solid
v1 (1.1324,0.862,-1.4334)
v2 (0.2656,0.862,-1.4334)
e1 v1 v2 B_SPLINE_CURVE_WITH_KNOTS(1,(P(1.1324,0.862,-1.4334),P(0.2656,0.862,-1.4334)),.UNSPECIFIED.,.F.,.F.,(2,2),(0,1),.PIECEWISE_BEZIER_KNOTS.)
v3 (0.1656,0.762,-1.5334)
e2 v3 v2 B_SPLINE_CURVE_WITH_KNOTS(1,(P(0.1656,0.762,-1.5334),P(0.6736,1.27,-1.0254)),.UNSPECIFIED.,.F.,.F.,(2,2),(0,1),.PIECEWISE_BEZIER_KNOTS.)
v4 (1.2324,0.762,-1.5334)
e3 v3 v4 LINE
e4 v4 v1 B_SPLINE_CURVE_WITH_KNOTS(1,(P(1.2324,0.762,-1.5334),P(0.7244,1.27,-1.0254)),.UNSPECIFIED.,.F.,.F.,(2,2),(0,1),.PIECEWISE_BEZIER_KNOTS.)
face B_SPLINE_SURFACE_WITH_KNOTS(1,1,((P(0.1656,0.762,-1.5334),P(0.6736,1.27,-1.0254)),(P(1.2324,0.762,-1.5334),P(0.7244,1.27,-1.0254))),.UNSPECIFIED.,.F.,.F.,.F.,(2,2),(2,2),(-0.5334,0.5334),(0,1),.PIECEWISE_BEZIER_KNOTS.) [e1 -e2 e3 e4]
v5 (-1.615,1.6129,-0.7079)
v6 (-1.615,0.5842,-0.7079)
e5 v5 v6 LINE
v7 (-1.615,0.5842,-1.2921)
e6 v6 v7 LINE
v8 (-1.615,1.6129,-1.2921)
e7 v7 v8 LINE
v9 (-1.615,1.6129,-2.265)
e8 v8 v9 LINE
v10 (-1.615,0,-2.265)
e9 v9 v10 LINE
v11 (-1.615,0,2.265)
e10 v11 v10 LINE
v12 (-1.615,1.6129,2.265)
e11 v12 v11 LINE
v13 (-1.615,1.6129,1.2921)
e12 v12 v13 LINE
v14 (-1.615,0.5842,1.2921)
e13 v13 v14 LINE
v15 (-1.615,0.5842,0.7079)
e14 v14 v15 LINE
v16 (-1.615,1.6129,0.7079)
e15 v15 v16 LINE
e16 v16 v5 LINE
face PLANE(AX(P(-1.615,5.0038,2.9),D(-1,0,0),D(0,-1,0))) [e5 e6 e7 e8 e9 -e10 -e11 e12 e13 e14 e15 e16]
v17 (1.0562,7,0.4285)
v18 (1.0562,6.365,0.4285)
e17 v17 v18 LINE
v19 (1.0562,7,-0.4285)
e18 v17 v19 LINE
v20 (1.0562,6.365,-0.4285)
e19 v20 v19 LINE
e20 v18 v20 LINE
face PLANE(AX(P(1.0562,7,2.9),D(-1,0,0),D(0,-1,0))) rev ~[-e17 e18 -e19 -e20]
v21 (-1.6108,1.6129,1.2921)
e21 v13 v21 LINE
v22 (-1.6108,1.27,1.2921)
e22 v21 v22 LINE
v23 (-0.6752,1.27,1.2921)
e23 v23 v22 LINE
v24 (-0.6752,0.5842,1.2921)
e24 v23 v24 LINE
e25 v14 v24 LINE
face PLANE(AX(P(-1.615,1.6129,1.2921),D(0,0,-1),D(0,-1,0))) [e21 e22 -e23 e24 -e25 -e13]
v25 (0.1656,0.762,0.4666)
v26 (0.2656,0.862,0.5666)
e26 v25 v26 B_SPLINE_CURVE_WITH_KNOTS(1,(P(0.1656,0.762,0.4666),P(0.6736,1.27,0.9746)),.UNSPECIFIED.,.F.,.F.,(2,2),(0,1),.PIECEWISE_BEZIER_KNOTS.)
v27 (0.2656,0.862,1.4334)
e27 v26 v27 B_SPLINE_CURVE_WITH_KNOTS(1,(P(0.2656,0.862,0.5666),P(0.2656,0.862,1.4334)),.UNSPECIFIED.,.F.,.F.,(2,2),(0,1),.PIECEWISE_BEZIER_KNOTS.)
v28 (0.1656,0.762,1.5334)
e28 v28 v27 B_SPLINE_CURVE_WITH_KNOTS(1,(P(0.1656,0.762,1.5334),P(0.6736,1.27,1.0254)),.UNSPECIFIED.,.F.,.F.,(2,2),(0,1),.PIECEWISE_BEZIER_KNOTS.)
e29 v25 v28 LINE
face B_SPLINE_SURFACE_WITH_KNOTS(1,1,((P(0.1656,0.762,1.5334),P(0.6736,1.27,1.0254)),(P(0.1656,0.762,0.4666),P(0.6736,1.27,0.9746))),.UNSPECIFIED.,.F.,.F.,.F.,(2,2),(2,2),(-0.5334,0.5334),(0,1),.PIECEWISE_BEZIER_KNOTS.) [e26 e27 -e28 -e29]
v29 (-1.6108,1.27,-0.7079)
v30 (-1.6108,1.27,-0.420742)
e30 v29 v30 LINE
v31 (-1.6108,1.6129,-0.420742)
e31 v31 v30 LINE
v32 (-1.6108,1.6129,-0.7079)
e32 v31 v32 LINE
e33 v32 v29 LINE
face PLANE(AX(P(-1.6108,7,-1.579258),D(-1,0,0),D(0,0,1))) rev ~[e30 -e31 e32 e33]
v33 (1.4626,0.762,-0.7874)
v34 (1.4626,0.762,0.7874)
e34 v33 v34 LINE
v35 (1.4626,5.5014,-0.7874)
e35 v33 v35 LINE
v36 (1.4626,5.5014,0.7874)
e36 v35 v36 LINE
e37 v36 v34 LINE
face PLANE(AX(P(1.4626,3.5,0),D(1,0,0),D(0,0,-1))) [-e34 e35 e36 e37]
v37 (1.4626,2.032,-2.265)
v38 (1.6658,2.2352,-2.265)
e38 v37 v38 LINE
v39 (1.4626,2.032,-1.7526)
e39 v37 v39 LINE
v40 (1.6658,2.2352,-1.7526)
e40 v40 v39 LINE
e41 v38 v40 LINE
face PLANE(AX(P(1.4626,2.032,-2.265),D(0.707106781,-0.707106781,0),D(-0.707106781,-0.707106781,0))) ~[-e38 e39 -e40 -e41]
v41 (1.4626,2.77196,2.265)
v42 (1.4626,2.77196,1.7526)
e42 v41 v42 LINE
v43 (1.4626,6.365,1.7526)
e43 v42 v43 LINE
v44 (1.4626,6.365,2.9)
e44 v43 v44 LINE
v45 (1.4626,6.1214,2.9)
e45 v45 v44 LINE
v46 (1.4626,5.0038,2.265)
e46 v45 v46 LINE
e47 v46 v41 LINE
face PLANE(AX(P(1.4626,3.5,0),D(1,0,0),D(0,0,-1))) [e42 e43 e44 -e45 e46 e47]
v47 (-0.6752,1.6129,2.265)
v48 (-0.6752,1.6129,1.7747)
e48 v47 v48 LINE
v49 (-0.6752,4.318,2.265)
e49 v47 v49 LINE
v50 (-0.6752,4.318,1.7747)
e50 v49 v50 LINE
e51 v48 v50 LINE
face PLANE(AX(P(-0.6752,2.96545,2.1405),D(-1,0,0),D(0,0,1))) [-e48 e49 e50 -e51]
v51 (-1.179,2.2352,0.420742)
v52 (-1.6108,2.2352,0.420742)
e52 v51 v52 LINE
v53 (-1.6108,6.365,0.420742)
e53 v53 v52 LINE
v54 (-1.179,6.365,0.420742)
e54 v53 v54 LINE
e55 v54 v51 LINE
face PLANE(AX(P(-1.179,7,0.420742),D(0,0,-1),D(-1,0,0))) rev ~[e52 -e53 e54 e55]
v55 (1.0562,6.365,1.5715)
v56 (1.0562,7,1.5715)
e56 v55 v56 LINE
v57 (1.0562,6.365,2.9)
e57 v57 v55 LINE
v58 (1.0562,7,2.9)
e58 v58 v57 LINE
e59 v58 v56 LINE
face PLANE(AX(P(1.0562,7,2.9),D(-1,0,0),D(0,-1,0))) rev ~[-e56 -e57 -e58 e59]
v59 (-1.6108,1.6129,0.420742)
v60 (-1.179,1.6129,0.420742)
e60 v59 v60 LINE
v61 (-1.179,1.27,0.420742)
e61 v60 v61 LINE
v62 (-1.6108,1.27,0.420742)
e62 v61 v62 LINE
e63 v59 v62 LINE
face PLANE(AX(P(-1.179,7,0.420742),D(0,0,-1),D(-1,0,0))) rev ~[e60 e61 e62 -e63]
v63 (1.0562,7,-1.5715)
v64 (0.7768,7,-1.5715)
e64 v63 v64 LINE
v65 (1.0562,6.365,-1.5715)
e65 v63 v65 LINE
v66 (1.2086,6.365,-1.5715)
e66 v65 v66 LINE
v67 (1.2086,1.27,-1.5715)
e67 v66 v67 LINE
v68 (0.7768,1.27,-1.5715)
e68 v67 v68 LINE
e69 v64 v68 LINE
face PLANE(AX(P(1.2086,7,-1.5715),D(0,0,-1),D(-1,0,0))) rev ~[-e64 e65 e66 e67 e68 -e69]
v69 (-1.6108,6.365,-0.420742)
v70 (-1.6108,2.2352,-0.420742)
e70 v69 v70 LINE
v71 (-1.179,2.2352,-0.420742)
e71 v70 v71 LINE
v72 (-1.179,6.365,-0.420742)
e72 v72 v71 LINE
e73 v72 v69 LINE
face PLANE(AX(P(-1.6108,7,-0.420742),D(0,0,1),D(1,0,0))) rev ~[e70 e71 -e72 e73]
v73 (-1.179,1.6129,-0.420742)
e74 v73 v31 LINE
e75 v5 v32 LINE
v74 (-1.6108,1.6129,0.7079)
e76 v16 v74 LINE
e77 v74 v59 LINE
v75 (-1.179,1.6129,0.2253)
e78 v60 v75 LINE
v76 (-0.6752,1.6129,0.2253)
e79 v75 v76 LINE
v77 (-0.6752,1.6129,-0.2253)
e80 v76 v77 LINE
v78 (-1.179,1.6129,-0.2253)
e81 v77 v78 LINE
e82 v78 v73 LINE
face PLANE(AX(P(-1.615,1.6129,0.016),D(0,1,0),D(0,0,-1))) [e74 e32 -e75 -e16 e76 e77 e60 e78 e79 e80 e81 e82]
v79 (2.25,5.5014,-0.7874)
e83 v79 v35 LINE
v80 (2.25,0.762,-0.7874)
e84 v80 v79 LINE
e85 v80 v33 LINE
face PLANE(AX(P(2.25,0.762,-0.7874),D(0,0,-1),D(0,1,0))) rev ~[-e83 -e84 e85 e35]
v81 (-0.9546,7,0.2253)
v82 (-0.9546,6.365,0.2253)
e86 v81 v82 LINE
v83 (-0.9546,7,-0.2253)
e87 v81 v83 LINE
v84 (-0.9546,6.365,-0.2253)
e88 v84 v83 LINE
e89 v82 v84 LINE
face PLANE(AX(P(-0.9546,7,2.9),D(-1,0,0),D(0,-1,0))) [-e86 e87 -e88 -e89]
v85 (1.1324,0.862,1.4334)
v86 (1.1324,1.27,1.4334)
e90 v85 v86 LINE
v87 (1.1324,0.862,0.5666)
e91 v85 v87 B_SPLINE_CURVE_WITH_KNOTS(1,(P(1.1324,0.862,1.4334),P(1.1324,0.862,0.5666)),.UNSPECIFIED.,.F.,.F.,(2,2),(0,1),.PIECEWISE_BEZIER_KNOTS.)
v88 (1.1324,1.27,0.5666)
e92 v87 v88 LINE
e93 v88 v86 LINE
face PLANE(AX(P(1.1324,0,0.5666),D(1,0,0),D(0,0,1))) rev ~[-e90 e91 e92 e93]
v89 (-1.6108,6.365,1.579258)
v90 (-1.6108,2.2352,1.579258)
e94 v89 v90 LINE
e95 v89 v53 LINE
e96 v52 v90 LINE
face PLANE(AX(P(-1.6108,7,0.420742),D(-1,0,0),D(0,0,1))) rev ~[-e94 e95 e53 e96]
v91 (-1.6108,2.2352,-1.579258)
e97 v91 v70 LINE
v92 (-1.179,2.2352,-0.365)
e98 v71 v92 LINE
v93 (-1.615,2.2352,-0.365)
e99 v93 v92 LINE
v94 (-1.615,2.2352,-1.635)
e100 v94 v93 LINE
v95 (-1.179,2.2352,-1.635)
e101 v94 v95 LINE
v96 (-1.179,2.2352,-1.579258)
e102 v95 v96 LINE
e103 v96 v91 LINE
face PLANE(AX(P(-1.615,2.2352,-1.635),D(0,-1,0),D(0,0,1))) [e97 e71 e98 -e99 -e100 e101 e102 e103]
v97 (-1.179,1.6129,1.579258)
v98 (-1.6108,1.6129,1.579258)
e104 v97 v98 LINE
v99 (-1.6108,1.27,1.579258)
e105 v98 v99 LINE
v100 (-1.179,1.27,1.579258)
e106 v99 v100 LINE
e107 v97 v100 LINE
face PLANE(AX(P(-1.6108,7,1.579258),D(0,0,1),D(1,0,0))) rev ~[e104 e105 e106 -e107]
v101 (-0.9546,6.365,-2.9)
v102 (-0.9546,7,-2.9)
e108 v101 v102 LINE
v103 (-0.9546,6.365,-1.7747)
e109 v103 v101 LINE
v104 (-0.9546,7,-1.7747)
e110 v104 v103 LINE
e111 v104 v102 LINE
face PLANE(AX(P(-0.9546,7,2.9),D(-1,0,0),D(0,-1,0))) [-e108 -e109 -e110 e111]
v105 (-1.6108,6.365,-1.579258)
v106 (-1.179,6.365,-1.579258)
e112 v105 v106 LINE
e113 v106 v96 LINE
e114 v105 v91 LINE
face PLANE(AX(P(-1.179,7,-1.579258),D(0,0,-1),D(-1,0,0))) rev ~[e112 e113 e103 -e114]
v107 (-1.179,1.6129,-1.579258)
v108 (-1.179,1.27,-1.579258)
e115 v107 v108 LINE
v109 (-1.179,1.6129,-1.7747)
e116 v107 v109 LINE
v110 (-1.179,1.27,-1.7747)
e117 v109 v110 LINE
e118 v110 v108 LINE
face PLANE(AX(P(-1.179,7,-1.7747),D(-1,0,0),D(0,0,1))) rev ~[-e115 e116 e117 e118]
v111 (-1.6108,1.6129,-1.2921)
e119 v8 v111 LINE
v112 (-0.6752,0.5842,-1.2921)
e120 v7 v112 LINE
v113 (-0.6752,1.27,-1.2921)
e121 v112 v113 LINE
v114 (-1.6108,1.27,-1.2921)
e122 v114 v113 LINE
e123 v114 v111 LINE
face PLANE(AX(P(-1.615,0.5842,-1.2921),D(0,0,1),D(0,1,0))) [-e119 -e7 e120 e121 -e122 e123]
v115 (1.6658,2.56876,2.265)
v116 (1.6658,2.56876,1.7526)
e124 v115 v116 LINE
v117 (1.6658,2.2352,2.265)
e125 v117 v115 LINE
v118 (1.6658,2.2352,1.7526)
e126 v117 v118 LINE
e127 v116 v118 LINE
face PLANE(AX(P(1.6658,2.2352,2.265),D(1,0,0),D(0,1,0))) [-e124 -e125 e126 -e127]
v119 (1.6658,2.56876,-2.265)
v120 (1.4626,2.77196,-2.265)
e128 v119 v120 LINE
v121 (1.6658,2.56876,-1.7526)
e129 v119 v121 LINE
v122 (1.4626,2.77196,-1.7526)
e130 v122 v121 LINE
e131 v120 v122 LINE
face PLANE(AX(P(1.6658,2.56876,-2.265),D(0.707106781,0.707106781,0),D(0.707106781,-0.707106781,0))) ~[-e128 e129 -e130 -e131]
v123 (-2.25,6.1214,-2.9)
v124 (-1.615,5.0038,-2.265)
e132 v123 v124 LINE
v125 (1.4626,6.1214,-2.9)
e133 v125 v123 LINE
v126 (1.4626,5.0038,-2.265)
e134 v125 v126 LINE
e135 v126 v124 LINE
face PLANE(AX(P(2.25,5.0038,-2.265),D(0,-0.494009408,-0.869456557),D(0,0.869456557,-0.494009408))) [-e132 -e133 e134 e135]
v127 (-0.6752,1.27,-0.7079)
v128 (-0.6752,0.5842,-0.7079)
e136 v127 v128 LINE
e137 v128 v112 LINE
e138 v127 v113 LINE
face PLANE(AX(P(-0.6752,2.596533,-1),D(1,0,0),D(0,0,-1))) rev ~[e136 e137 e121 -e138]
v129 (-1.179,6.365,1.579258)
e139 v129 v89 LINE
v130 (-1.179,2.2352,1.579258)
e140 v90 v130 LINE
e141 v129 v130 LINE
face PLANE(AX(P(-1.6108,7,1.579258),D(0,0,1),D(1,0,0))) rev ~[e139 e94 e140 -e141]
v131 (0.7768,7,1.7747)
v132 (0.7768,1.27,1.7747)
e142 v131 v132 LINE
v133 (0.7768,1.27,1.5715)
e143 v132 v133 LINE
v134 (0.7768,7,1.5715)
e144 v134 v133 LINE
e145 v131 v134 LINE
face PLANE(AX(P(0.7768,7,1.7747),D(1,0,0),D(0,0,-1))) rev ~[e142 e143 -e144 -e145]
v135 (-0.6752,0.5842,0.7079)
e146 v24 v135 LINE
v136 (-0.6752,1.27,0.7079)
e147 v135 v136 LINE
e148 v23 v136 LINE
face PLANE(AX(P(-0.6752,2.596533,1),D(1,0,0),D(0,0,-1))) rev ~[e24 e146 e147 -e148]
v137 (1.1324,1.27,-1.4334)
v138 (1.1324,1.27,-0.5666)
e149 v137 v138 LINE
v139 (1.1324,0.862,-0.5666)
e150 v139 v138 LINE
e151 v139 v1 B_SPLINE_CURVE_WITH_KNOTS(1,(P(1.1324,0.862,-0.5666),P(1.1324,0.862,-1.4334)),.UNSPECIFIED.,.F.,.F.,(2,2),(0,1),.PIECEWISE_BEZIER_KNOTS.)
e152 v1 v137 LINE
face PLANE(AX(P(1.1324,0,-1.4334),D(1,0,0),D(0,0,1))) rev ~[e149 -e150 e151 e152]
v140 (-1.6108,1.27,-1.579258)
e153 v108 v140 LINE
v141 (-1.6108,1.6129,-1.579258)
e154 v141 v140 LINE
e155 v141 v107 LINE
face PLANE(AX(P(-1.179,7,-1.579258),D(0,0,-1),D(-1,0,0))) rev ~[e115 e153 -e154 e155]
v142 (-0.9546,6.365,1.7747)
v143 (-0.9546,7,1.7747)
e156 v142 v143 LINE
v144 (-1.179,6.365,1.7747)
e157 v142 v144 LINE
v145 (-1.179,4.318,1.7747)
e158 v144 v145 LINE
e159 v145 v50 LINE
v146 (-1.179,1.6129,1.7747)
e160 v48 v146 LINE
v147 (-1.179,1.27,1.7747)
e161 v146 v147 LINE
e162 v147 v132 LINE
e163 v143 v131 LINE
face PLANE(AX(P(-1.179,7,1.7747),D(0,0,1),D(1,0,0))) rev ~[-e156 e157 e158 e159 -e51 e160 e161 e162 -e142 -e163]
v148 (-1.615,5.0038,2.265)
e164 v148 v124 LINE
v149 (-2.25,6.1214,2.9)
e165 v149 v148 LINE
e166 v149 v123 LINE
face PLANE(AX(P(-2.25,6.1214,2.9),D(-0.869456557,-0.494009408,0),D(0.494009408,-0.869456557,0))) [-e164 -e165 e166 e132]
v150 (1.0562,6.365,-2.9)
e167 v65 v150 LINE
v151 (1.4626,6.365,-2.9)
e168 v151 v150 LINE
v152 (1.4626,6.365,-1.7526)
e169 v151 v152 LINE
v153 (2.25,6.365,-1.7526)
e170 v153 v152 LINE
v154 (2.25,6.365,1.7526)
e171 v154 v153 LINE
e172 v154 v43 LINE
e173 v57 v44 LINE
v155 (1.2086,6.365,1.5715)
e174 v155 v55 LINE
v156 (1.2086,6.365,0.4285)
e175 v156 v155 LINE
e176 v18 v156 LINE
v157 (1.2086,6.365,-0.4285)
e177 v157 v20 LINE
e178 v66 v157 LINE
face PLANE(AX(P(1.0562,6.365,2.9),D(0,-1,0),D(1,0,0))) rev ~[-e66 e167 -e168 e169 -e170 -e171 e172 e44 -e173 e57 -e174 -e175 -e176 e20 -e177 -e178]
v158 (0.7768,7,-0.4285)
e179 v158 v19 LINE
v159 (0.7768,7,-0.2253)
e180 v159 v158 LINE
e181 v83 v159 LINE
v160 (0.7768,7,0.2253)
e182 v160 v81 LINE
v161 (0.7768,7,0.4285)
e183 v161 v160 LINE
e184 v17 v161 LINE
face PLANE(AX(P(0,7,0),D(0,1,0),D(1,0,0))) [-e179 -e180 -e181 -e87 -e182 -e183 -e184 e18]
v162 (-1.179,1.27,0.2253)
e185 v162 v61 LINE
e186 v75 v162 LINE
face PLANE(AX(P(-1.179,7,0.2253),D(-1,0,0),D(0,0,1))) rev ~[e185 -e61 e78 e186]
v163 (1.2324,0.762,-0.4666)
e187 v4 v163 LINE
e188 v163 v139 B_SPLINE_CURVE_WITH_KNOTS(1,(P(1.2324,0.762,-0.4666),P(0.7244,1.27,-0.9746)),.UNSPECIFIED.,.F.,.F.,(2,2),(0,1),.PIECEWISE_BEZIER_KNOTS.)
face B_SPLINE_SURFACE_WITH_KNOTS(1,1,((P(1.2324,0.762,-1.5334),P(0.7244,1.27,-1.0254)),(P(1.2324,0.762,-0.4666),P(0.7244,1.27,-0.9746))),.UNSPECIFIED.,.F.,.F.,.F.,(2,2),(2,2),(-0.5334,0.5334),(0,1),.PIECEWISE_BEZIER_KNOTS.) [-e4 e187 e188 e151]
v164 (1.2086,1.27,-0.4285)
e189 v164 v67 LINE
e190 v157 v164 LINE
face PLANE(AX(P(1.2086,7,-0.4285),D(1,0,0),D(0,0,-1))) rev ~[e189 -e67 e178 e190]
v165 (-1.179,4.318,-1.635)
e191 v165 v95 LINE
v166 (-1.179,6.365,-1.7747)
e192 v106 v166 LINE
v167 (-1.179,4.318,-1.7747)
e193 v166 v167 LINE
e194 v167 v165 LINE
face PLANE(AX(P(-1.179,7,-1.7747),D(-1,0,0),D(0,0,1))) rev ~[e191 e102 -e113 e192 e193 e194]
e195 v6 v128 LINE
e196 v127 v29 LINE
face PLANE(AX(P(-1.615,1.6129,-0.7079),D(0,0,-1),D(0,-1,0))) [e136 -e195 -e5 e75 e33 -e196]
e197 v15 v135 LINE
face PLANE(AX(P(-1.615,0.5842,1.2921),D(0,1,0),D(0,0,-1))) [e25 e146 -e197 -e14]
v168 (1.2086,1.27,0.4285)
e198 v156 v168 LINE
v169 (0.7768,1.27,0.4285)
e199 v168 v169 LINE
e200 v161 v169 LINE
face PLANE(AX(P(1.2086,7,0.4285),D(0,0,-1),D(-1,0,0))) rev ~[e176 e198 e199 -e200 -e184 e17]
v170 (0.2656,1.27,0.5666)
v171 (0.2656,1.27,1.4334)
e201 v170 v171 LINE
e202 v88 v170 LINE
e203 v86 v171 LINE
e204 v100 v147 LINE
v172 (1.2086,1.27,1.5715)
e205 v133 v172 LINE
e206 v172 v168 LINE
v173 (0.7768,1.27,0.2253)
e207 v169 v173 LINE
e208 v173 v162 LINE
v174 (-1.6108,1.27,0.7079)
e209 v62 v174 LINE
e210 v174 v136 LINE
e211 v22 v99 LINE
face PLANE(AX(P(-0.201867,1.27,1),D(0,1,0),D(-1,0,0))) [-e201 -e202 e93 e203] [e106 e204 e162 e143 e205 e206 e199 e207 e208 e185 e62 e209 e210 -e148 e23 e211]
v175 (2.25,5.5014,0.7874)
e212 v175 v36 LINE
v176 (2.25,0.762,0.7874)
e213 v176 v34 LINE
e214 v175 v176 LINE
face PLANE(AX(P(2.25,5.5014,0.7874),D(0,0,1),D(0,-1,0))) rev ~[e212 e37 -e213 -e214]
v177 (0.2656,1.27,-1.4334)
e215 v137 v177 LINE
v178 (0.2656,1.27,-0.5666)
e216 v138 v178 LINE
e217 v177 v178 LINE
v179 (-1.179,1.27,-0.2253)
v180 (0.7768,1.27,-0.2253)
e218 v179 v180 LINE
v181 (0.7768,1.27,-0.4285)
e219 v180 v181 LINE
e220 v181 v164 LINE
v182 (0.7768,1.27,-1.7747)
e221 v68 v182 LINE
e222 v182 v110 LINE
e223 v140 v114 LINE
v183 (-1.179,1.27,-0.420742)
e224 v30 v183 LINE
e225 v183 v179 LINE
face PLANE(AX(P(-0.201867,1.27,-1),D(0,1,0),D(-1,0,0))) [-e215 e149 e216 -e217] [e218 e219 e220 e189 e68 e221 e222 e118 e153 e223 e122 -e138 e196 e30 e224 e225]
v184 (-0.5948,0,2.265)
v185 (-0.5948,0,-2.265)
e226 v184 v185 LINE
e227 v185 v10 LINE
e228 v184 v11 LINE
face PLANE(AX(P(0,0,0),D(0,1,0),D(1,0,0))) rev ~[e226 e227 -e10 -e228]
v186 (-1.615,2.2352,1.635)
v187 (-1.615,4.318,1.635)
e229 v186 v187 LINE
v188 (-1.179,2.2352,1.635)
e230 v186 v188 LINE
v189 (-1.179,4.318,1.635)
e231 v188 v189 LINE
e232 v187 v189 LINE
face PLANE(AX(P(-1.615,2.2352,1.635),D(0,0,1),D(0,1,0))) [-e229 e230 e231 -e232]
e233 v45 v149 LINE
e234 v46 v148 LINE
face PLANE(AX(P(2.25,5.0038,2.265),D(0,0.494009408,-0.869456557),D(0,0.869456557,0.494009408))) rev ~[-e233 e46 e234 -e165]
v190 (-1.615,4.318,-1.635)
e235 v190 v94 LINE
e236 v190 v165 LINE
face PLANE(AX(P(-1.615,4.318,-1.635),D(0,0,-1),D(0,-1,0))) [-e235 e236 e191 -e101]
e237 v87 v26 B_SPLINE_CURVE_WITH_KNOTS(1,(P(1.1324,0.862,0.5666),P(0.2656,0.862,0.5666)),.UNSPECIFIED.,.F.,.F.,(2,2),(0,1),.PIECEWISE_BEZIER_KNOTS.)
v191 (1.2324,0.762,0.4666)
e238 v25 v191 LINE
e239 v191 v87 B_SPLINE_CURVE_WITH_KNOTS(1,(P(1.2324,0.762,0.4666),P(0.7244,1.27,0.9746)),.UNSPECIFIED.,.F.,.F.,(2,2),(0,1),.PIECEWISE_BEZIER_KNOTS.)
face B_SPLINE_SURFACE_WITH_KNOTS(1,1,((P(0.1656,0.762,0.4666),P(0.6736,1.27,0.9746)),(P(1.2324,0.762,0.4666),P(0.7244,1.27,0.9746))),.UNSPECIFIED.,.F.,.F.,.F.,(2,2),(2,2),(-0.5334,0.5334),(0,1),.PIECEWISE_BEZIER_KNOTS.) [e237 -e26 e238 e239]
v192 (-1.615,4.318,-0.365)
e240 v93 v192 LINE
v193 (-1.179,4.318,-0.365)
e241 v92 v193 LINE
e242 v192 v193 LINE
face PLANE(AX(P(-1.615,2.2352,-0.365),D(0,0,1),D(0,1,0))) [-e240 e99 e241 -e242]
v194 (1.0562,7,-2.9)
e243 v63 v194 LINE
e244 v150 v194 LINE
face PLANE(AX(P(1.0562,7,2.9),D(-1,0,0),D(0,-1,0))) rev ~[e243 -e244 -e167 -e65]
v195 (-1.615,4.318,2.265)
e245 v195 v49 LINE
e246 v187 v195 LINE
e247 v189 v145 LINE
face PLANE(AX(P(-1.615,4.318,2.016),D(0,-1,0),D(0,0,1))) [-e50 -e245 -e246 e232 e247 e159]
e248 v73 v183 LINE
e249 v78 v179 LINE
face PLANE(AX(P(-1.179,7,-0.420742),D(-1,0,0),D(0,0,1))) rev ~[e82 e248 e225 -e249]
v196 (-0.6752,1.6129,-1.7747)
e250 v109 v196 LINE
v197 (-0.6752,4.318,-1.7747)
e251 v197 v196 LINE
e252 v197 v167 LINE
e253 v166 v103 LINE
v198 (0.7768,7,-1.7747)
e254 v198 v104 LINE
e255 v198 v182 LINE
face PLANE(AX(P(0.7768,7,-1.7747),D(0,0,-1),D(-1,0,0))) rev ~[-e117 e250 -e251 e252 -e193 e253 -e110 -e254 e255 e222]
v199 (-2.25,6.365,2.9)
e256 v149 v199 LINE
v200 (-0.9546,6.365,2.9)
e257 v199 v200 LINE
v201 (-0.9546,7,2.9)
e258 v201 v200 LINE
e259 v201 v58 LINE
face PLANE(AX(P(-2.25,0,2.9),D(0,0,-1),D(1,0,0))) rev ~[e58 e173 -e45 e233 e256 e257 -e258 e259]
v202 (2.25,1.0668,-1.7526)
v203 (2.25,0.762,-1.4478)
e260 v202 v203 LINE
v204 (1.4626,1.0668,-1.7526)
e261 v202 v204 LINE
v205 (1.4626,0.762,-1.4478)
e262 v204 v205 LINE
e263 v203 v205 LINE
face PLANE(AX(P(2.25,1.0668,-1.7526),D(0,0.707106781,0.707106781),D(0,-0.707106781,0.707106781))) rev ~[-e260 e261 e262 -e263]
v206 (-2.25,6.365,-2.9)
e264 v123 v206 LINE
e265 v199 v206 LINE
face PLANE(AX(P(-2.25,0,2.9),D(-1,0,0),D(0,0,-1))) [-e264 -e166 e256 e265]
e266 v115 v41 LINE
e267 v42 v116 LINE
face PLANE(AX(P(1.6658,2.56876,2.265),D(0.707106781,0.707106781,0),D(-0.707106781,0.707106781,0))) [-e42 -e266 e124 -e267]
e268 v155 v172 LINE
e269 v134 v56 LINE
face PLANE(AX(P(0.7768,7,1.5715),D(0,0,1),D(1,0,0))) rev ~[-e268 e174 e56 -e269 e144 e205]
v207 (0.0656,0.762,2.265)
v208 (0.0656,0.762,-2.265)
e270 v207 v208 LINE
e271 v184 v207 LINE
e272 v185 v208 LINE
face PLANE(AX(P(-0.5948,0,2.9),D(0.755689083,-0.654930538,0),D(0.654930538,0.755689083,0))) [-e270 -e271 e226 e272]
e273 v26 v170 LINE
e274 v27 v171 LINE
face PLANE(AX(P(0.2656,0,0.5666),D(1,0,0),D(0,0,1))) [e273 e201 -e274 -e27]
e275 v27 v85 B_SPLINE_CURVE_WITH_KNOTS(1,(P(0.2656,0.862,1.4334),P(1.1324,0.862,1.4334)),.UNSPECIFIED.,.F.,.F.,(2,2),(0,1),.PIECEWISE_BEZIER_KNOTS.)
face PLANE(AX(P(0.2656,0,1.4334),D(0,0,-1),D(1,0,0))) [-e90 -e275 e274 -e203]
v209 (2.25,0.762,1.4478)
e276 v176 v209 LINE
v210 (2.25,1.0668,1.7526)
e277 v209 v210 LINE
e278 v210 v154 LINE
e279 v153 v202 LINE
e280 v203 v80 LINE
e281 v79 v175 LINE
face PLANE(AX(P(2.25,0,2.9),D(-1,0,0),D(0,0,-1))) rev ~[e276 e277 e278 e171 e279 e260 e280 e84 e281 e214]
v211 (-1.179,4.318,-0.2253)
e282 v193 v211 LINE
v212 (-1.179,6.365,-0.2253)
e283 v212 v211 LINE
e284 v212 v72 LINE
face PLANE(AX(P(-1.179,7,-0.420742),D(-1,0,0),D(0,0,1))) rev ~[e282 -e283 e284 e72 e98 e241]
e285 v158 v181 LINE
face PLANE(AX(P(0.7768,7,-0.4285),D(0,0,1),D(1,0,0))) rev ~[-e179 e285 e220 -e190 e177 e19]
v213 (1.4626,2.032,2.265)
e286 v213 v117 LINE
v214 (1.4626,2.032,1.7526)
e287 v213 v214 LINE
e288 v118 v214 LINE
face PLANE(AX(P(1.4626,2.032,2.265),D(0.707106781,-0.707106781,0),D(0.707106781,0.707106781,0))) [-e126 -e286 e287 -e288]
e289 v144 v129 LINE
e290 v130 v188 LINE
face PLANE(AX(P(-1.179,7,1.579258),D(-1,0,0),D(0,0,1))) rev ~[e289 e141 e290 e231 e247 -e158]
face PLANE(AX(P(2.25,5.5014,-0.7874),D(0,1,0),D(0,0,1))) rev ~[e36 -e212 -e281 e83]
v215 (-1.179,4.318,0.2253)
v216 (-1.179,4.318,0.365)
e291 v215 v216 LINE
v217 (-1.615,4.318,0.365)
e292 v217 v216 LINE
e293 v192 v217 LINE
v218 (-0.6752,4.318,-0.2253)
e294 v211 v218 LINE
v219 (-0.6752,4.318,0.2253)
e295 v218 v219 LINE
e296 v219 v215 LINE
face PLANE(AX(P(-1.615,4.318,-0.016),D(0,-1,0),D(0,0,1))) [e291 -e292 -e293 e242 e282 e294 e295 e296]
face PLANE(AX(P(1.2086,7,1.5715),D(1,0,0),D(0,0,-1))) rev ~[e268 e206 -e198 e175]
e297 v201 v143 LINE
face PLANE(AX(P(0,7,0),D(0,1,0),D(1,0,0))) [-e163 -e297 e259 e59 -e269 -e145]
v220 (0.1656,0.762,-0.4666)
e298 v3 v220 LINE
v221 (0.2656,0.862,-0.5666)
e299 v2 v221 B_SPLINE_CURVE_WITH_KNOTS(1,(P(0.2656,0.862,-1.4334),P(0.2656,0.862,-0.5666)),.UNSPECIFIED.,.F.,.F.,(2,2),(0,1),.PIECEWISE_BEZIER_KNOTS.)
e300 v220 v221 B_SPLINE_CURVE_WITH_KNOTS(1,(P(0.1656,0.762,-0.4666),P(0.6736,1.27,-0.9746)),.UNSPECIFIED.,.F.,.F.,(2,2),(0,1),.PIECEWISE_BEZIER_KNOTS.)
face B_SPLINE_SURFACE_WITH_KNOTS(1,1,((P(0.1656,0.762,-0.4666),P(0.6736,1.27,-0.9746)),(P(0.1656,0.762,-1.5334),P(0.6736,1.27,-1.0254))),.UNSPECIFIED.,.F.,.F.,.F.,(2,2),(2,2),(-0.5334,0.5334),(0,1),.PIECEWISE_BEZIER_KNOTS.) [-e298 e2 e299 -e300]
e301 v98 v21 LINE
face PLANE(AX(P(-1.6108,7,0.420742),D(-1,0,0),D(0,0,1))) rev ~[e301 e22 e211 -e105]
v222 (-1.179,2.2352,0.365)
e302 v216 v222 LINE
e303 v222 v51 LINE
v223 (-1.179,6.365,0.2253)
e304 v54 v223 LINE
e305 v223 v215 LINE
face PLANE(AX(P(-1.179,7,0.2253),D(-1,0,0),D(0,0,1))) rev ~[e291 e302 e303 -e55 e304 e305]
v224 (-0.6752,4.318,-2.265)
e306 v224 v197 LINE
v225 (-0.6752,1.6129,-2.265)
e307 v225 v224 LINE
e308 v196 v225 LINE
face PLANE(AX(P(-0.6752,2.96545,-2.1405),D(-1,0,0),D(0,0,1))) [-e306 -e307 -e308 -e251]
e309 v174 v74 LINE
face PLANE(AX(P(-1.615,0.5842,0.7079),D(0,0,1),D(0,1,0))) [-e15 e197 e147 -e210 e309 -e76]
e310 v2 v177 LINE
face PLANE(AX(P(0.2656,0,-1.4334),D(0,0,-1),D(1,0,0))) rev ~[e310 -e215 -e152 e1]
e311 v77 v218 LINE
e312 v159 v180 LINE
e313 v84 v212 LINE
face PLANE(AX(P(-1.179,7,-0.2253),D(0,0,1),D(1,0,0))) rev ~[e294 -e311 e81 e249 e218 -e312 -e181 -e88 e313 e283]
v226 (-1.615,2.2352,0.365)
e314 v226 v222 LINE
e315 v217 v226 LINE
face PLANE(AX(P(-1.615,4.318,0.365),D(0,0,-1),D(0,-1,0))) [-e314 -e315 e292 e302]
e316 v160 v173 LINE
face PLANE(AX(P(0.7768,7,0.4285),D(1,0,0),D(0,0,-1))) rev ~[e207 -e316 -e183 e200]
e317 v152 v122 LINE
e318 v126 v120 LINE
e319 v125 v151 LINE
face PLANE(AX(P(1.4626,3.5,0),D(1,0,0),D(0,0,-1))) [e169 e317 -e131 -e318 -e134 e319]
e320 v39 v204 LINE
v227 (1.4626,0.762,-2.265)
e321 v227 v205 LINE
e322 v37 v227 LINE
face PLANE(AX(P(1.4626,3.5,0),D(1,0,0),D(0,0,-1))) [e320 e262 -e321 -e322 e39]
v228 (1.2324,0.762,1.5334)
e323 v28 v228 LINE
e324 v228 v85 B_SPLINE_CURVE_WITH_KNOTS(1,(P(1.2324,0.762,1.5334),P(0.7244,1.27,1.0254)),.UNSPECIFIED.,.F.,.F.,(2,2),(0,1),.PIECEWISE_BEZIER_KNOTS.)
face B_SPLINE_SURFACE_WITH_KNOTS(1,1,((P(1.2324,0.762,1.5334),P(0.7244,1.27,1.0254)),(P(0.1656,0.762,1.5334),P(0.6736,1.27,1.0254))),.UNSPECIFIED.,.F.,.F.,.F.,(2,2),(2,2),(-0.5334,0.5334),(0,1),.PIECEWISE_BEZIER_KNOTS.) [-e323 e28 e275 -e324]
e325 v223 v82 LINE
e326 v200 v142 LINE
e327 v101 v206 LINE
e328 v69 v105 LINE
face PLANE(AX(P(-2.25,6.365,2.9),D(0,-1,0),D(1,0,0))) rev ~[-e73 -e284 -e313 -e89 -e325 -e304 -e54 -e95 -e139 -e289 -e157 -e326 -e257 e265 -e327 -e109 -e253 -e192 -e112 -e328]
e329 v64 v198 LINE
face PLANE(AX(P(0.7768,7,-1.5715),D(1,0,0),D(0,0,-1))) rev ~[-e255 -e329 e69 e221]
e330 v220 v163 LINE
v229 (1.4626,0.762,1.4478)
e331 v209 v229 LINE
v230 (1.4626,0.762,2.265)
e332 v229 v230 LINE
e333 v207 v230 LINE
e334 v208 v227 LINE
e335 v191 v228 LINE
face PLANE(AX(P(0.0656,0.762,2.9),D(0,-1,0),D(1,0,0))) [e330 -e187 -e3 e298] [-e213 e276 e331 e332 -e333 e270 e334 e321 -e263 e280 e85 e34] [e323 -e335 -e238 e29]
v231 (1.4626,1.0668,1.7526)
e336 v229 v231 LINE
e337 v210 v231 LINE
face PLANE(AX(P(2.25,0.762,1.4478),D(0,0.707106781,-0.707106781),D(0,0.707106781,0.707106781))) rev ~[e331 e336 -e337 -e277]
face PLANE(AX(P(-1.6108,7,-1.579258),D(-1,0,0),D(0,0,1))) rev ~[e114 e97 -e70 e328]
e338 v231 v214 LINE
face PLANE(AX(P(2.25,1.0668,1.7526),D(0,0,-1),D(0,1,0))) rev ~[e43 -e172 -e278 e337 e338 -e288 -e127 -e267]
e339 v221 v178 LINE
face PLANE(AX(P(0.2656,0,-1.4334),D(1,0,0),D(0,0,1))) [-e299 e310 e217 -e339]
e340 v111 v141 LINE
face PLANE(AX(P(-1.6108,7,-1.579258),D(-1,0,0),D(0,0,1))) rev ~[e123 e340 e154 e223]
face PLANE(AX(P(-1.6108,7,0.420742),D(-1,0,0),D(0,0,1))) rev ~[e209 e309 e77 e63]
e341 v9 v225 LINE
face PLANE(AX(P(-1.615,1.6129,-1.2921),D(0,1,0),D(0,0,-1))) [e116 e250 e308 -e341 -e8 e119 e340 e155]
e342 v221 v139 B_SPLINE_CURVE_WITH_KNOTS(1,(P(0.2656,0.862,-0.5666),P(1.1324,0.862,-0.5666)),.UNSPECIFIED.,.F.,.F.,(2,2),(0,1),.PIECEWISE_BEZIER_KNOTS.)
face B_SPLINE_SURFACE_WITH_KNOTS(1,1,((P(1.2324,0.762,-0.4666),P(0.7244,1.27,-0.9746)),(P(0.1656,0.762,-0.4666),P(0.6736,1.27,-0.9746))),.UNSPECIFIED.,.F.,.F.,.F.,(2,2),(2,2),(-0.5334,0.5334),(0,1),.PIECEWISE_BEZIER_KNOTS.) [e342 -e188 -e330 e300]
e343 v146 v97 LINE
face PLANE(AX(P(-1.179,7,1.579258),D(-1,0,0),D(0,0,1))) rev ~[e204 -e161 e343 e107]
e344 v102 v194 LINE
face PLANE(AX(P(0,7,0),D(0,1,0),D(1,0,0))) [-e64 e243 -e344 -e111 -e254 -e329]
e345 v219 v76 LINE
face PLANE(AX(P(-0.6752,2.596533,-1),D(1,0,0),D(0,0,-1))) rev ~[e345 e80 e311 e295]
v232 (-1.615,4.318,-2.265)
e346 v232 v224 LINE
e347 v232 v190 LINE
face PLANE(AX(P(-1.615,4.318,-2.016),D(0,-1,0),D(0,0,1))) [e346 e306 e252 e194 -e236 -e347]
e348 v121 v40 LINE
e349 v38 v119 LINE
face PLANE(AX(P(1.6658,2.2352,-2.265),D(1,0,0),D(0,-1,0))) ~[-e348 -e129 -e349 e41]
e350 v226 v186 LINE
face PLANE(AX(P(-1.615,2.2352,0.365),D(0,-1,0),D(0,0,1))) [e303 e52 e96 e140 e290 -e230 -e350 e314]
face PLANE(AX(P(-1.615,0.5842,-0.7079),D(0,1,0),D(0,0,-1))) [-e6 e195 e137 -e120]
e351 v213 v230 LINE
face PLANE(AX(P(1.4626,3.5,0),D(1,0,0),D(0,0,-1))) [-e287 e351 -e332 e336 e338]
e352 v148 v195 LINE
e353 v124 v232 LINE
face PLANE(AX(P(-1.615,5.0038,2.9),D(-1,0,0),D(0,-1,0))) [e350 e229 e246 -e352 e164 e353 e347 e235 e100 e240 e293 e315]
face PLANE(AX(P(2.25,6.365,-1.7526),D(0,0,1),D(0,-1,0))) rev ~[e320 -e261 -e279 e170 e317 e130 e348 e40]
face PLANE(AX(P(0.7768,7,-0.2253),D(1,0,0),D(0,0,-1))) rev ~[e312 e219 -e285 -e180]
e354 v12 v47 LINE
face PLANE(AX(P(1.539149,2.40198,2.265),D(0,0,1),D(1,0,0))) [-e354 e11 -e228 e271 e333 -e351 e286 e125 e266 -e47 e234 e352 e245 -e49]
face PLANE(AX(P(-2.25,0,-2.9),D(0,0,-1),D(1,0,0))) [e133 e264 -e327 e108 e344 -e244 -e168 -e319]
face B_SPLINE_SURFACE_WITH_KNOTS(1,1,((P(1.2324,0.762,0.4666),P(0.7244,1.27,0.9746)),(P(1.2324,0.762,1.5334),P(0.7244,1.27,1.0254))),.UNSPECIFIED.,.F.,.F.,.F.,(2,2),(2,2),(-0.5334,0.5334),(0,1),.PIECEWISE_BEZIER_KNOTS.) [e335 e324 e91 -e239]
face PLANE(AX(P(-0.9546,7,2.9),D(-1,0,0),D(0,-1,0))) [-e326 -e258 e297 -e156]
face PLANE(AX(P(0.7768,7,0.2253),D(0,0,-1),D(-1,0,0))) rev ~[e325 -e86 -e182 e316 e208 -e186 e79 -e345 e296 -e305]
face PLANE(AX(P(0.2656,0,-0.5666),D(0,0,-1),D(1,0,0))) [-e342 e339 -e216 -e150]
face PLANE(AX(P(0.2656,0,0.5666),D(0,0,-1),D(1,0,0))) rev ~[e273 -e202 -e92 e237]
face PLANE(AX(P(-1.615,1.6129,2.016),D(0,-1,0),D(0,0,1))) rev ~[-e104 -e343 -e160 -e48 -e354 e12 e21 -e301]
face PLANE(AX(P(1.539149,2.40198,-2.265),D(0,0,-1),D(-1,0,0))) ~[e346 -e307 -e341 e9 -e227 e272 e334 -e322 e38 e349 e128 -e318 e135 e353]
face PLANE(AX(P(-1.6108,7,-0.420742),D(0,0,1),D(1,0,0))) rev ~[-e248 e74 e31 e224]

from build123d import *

# Parameters (mm, degrees)
SKETCH1_W                  = 4.5
SKETCH1_H                  = 5.8
EXTRUDE1_DEPTH             = 7
SKETCH10_W                 = 1.2954
SKETCH10_H                 = 0.635
SKETCH10_W_2               = 1.1938
CUT_EXTRUDE7_DEPTH         = 6.8
CUT_EXTRUDE13_DEPTH        = 5.5
SKETCH3_W                  = 1.0668
SKETCH3_H                  = 1.0668
MATING_SIDE_CHAMFERS_DEPTH = 0.508
MATING_SIDE_CHAMFERS_TAPER = 45
SKETCH18_W                 = 5.8
SKETCH18_H                 = 7
POLARIZING_KEYWAY_DEPTH    = 0.7874
SKETCH4_W                  = 0.8668
SKETCH4_H                  = 0.8668
TERMINAL_HOLES_DEPTH       = 8
SKETCH14_W                 = 0.8668
SKETCH14_H                 = 0.8668
TERMINAL_CUTOUT_DEPTH      = 5.73
RAMP1_DEPTH                = 0.7874
TERMINALLOCK_CUTOUT_DEPTH  = 0.9398
SKETCH20_W                 = 0.249
SKETCH20_H                 = 2.7051
CUT_EXTRUDE16_DEPTH        = 0.9398
LPATTERN2_COUNT            = 2
LPATTERN2_PITCH            = 2


with BuildPart() as part:
    # Sketch1 → Extrude1 (new body)
    with BuildSketch(Plane(origin=(0, 0, 0), x_dir=(1, 0, 0), z_dir=(0, 1, 0))):
        Rectangle(SKETCH1_W, SKETCH1_H)
    extrude(amount=EXTRUDE1_DEPTH)

    # Sketch10 → Cut-Extrude7 (cut, through all)
    with BuildSketch(Plane(origin=(0, 4.9, 2.9), x_dir=(1, 0, 0), z_dir=(0, 0, -1))):
        Polygon((-0.5948, 4.9), (0.0656, 4.138), (2.25, 4.138), (2.25, 4.9), align=None)
        Polygon((-2.25, -1.2214), (-1.615, -0.1038), (-1.615, 4.9), (-2.25, 4.9), align=None)
        with Locations((-1.6023, -1.7825)):
            Rectangle(SKETCH10_W, SKETCH10_H)
        with Locations((1.6531, -1.7825)):
            Rectangle(SKETCH10_W_2, SKETCH10_H)
    extrude(amount=CUT_EXTRUDE7_DEPTH, mode=Mode.SUBTRACT)

    # Sketch17 → Cut-Extrude13 (cut, through all)
    with BuildSketch(Plane(origin=(2.25, 0, 0), x_dir=(0, 0, -1), z_dir=(1, 0, 0))):
        Polygon((-2.9, 0), (-2.265, 0), (-2.265, 5.0038), (-2.9, 6.1214), align=None)
        Polygon((2.9, 0), (2.265, 0), (2.265, 5.0038), (2.9, 6.1214), align=None)
    extrude(amount=-CUT_EXTRUDE13_DEPTH, mode=Mode.SUBTRACT)

    # Sketch3 → Mating Side Chamfers (cut)
    with BuildSketch(Plane.XZ.offset(-0.762)):
        with Locations((0.699, 1)):
            Rectangle(SKETCH3_W, SKETCH3_H)
    mating_side_chamfers = extrude(amount=-MATING_SIDE_CHAMFERS_DEPTH, taper=MATING_SIDE_CHAMFERS_TAPER, mode=Mode.SUBTRACT)

    # Sketch18 → Polarizing Keyway (cut)
    with BuildSketch(Plane(origin=(2.25, 0, 0), x_dir=(0, 0, -1), z_dir=(1, 0, 0))):
        with Locations((0, 3.5)):
            Rectangle(SKETCH18_W, SKETCH18_H)
        Polygon((0.7874, 0.762), (0.7874, 5.5014), (-0.7874, 5.5014), (-0.7874, 0.762), (-1.4478, 0.762), (-1.7526, 1.0668), (-1.7526, 6.365), (1.7526, 6.365), (1.7526, 1.0668), (1.4478, 0.762), align=None, mode=Mode.SUBTRACT)
    extrude(amount=-POLARIZING_KEYWAY_DEPTH, mode=Mode.SUBTRACT)

    # Sketch4 → Terminal Holes (cut, through all)
    with BuildSketch(Plane.XZ):
        with Locations((0.699, 1)):
            Rectangle(SKETCH4_W, SKETCH4_H)
    terminal_holes = extrude(amount=-TERMINAL_HOLES_DEPTH, mode=Mode.SUBTRACT)

    # Sketch14 → Terminal Cutout (cut)
    with BuildSketch(Plane(origin=(0, 7, 0), x_dir=(-1, 0, 0), z_dir=(0, 1, 0))):
        Polygon((1.6108, 0.42074158), (1.6108, 1.57925842), (1.179, 1.57925842), (1.179, 1.7747), (-0.7768, 1.7747), (-0.7768, 1.5715), (-1.2086, 1.5715), (-1.2086, 1), (-1.2086, 0.4285), (-0.7768, 0.4285), (-0.7768, 0.2253), (1.179, 0.2253), (1.179, 0.42074158), align=None)
        with Locations((-0.699, 1)):
            Rectangle(SKETCH14_W, SKETCH14_H, mode=Mode.SUBTRACT)
    terminal_cutout = extrude(amount=-TERMINAL_CUTOUT_DEPTH, mode=Mode.SUBTRACT)

    # Sketch11 → Ramp1 (add)
    with BuildSketch(Plane.XY.offset(2.265)):
        Polygon((1.4626, 2.77196042), (1.4626, 2.032), (1.6658, 2.2352), (1.6658, 2.56876042), align=None)
    ramp1 = extrude(amount=-RAMP1_DEPTH)

    # Sketch19 → TerminalLock Cutout (cut)
    with BuildSketch(Plane.ZY.offset(1.615)):
        Polygon((0.365, 4.318), (0.365, 2.2352), (1.635, 2.2352), (1.635, 4.318), (2.016, 4.318), (2.016, 1.6129), (1.2921, 1.6129), (1.2921, 0.5842), (0.7079, 0.5842), (0.7079, 1.6129), (-0.016, 1.6129), (-0.016, 4.318), align=None)
    terminallock_cutout = extrude(amount=-TERMINALLOCK_CUTOUT_DEPTH, mode=Mode.SUBTRACT)

    # Sketch20 → Cut-Extrude16 (cut)
    with BuildSketch(Plane.ZY.offset(1.615)):
        with Locations((2.1405, 2.96545)):
            Rectangle(SKETCH20_W, SKETCH20_H)
        with Locations((-2.1405, 2.96545)):
            Rectangle(SKETCH20_W, SKETCH20_H)
    extrude(amount=-CUT_EXTRUDE16_DEPTH, mode=Mode.SUBTRACT)

    # LPattern2: Mating Side Chamfers, Terminal Holes, Terminal Cutout, TerminalLock Cutout ×2
    with Locations(*[(0, 0, -i * LPATTERN2_PITCH) for i in range(1, LPATTERN2_COUNT)]):
        add(mating_side_chamfers, mode=Mode.SUBTRACT)
        add(terminal_holes, mode=Mode.SUBTRACT)
        add(terminal_cutout, mode=Mode.SUBTRACT)
        add(terminallock_cutout, mode=Mode.SUBTRACT)

    # Mirror1: Ramp1 across plane
    add(ramp1.mirror(Plane.XY))


solid = part.part
